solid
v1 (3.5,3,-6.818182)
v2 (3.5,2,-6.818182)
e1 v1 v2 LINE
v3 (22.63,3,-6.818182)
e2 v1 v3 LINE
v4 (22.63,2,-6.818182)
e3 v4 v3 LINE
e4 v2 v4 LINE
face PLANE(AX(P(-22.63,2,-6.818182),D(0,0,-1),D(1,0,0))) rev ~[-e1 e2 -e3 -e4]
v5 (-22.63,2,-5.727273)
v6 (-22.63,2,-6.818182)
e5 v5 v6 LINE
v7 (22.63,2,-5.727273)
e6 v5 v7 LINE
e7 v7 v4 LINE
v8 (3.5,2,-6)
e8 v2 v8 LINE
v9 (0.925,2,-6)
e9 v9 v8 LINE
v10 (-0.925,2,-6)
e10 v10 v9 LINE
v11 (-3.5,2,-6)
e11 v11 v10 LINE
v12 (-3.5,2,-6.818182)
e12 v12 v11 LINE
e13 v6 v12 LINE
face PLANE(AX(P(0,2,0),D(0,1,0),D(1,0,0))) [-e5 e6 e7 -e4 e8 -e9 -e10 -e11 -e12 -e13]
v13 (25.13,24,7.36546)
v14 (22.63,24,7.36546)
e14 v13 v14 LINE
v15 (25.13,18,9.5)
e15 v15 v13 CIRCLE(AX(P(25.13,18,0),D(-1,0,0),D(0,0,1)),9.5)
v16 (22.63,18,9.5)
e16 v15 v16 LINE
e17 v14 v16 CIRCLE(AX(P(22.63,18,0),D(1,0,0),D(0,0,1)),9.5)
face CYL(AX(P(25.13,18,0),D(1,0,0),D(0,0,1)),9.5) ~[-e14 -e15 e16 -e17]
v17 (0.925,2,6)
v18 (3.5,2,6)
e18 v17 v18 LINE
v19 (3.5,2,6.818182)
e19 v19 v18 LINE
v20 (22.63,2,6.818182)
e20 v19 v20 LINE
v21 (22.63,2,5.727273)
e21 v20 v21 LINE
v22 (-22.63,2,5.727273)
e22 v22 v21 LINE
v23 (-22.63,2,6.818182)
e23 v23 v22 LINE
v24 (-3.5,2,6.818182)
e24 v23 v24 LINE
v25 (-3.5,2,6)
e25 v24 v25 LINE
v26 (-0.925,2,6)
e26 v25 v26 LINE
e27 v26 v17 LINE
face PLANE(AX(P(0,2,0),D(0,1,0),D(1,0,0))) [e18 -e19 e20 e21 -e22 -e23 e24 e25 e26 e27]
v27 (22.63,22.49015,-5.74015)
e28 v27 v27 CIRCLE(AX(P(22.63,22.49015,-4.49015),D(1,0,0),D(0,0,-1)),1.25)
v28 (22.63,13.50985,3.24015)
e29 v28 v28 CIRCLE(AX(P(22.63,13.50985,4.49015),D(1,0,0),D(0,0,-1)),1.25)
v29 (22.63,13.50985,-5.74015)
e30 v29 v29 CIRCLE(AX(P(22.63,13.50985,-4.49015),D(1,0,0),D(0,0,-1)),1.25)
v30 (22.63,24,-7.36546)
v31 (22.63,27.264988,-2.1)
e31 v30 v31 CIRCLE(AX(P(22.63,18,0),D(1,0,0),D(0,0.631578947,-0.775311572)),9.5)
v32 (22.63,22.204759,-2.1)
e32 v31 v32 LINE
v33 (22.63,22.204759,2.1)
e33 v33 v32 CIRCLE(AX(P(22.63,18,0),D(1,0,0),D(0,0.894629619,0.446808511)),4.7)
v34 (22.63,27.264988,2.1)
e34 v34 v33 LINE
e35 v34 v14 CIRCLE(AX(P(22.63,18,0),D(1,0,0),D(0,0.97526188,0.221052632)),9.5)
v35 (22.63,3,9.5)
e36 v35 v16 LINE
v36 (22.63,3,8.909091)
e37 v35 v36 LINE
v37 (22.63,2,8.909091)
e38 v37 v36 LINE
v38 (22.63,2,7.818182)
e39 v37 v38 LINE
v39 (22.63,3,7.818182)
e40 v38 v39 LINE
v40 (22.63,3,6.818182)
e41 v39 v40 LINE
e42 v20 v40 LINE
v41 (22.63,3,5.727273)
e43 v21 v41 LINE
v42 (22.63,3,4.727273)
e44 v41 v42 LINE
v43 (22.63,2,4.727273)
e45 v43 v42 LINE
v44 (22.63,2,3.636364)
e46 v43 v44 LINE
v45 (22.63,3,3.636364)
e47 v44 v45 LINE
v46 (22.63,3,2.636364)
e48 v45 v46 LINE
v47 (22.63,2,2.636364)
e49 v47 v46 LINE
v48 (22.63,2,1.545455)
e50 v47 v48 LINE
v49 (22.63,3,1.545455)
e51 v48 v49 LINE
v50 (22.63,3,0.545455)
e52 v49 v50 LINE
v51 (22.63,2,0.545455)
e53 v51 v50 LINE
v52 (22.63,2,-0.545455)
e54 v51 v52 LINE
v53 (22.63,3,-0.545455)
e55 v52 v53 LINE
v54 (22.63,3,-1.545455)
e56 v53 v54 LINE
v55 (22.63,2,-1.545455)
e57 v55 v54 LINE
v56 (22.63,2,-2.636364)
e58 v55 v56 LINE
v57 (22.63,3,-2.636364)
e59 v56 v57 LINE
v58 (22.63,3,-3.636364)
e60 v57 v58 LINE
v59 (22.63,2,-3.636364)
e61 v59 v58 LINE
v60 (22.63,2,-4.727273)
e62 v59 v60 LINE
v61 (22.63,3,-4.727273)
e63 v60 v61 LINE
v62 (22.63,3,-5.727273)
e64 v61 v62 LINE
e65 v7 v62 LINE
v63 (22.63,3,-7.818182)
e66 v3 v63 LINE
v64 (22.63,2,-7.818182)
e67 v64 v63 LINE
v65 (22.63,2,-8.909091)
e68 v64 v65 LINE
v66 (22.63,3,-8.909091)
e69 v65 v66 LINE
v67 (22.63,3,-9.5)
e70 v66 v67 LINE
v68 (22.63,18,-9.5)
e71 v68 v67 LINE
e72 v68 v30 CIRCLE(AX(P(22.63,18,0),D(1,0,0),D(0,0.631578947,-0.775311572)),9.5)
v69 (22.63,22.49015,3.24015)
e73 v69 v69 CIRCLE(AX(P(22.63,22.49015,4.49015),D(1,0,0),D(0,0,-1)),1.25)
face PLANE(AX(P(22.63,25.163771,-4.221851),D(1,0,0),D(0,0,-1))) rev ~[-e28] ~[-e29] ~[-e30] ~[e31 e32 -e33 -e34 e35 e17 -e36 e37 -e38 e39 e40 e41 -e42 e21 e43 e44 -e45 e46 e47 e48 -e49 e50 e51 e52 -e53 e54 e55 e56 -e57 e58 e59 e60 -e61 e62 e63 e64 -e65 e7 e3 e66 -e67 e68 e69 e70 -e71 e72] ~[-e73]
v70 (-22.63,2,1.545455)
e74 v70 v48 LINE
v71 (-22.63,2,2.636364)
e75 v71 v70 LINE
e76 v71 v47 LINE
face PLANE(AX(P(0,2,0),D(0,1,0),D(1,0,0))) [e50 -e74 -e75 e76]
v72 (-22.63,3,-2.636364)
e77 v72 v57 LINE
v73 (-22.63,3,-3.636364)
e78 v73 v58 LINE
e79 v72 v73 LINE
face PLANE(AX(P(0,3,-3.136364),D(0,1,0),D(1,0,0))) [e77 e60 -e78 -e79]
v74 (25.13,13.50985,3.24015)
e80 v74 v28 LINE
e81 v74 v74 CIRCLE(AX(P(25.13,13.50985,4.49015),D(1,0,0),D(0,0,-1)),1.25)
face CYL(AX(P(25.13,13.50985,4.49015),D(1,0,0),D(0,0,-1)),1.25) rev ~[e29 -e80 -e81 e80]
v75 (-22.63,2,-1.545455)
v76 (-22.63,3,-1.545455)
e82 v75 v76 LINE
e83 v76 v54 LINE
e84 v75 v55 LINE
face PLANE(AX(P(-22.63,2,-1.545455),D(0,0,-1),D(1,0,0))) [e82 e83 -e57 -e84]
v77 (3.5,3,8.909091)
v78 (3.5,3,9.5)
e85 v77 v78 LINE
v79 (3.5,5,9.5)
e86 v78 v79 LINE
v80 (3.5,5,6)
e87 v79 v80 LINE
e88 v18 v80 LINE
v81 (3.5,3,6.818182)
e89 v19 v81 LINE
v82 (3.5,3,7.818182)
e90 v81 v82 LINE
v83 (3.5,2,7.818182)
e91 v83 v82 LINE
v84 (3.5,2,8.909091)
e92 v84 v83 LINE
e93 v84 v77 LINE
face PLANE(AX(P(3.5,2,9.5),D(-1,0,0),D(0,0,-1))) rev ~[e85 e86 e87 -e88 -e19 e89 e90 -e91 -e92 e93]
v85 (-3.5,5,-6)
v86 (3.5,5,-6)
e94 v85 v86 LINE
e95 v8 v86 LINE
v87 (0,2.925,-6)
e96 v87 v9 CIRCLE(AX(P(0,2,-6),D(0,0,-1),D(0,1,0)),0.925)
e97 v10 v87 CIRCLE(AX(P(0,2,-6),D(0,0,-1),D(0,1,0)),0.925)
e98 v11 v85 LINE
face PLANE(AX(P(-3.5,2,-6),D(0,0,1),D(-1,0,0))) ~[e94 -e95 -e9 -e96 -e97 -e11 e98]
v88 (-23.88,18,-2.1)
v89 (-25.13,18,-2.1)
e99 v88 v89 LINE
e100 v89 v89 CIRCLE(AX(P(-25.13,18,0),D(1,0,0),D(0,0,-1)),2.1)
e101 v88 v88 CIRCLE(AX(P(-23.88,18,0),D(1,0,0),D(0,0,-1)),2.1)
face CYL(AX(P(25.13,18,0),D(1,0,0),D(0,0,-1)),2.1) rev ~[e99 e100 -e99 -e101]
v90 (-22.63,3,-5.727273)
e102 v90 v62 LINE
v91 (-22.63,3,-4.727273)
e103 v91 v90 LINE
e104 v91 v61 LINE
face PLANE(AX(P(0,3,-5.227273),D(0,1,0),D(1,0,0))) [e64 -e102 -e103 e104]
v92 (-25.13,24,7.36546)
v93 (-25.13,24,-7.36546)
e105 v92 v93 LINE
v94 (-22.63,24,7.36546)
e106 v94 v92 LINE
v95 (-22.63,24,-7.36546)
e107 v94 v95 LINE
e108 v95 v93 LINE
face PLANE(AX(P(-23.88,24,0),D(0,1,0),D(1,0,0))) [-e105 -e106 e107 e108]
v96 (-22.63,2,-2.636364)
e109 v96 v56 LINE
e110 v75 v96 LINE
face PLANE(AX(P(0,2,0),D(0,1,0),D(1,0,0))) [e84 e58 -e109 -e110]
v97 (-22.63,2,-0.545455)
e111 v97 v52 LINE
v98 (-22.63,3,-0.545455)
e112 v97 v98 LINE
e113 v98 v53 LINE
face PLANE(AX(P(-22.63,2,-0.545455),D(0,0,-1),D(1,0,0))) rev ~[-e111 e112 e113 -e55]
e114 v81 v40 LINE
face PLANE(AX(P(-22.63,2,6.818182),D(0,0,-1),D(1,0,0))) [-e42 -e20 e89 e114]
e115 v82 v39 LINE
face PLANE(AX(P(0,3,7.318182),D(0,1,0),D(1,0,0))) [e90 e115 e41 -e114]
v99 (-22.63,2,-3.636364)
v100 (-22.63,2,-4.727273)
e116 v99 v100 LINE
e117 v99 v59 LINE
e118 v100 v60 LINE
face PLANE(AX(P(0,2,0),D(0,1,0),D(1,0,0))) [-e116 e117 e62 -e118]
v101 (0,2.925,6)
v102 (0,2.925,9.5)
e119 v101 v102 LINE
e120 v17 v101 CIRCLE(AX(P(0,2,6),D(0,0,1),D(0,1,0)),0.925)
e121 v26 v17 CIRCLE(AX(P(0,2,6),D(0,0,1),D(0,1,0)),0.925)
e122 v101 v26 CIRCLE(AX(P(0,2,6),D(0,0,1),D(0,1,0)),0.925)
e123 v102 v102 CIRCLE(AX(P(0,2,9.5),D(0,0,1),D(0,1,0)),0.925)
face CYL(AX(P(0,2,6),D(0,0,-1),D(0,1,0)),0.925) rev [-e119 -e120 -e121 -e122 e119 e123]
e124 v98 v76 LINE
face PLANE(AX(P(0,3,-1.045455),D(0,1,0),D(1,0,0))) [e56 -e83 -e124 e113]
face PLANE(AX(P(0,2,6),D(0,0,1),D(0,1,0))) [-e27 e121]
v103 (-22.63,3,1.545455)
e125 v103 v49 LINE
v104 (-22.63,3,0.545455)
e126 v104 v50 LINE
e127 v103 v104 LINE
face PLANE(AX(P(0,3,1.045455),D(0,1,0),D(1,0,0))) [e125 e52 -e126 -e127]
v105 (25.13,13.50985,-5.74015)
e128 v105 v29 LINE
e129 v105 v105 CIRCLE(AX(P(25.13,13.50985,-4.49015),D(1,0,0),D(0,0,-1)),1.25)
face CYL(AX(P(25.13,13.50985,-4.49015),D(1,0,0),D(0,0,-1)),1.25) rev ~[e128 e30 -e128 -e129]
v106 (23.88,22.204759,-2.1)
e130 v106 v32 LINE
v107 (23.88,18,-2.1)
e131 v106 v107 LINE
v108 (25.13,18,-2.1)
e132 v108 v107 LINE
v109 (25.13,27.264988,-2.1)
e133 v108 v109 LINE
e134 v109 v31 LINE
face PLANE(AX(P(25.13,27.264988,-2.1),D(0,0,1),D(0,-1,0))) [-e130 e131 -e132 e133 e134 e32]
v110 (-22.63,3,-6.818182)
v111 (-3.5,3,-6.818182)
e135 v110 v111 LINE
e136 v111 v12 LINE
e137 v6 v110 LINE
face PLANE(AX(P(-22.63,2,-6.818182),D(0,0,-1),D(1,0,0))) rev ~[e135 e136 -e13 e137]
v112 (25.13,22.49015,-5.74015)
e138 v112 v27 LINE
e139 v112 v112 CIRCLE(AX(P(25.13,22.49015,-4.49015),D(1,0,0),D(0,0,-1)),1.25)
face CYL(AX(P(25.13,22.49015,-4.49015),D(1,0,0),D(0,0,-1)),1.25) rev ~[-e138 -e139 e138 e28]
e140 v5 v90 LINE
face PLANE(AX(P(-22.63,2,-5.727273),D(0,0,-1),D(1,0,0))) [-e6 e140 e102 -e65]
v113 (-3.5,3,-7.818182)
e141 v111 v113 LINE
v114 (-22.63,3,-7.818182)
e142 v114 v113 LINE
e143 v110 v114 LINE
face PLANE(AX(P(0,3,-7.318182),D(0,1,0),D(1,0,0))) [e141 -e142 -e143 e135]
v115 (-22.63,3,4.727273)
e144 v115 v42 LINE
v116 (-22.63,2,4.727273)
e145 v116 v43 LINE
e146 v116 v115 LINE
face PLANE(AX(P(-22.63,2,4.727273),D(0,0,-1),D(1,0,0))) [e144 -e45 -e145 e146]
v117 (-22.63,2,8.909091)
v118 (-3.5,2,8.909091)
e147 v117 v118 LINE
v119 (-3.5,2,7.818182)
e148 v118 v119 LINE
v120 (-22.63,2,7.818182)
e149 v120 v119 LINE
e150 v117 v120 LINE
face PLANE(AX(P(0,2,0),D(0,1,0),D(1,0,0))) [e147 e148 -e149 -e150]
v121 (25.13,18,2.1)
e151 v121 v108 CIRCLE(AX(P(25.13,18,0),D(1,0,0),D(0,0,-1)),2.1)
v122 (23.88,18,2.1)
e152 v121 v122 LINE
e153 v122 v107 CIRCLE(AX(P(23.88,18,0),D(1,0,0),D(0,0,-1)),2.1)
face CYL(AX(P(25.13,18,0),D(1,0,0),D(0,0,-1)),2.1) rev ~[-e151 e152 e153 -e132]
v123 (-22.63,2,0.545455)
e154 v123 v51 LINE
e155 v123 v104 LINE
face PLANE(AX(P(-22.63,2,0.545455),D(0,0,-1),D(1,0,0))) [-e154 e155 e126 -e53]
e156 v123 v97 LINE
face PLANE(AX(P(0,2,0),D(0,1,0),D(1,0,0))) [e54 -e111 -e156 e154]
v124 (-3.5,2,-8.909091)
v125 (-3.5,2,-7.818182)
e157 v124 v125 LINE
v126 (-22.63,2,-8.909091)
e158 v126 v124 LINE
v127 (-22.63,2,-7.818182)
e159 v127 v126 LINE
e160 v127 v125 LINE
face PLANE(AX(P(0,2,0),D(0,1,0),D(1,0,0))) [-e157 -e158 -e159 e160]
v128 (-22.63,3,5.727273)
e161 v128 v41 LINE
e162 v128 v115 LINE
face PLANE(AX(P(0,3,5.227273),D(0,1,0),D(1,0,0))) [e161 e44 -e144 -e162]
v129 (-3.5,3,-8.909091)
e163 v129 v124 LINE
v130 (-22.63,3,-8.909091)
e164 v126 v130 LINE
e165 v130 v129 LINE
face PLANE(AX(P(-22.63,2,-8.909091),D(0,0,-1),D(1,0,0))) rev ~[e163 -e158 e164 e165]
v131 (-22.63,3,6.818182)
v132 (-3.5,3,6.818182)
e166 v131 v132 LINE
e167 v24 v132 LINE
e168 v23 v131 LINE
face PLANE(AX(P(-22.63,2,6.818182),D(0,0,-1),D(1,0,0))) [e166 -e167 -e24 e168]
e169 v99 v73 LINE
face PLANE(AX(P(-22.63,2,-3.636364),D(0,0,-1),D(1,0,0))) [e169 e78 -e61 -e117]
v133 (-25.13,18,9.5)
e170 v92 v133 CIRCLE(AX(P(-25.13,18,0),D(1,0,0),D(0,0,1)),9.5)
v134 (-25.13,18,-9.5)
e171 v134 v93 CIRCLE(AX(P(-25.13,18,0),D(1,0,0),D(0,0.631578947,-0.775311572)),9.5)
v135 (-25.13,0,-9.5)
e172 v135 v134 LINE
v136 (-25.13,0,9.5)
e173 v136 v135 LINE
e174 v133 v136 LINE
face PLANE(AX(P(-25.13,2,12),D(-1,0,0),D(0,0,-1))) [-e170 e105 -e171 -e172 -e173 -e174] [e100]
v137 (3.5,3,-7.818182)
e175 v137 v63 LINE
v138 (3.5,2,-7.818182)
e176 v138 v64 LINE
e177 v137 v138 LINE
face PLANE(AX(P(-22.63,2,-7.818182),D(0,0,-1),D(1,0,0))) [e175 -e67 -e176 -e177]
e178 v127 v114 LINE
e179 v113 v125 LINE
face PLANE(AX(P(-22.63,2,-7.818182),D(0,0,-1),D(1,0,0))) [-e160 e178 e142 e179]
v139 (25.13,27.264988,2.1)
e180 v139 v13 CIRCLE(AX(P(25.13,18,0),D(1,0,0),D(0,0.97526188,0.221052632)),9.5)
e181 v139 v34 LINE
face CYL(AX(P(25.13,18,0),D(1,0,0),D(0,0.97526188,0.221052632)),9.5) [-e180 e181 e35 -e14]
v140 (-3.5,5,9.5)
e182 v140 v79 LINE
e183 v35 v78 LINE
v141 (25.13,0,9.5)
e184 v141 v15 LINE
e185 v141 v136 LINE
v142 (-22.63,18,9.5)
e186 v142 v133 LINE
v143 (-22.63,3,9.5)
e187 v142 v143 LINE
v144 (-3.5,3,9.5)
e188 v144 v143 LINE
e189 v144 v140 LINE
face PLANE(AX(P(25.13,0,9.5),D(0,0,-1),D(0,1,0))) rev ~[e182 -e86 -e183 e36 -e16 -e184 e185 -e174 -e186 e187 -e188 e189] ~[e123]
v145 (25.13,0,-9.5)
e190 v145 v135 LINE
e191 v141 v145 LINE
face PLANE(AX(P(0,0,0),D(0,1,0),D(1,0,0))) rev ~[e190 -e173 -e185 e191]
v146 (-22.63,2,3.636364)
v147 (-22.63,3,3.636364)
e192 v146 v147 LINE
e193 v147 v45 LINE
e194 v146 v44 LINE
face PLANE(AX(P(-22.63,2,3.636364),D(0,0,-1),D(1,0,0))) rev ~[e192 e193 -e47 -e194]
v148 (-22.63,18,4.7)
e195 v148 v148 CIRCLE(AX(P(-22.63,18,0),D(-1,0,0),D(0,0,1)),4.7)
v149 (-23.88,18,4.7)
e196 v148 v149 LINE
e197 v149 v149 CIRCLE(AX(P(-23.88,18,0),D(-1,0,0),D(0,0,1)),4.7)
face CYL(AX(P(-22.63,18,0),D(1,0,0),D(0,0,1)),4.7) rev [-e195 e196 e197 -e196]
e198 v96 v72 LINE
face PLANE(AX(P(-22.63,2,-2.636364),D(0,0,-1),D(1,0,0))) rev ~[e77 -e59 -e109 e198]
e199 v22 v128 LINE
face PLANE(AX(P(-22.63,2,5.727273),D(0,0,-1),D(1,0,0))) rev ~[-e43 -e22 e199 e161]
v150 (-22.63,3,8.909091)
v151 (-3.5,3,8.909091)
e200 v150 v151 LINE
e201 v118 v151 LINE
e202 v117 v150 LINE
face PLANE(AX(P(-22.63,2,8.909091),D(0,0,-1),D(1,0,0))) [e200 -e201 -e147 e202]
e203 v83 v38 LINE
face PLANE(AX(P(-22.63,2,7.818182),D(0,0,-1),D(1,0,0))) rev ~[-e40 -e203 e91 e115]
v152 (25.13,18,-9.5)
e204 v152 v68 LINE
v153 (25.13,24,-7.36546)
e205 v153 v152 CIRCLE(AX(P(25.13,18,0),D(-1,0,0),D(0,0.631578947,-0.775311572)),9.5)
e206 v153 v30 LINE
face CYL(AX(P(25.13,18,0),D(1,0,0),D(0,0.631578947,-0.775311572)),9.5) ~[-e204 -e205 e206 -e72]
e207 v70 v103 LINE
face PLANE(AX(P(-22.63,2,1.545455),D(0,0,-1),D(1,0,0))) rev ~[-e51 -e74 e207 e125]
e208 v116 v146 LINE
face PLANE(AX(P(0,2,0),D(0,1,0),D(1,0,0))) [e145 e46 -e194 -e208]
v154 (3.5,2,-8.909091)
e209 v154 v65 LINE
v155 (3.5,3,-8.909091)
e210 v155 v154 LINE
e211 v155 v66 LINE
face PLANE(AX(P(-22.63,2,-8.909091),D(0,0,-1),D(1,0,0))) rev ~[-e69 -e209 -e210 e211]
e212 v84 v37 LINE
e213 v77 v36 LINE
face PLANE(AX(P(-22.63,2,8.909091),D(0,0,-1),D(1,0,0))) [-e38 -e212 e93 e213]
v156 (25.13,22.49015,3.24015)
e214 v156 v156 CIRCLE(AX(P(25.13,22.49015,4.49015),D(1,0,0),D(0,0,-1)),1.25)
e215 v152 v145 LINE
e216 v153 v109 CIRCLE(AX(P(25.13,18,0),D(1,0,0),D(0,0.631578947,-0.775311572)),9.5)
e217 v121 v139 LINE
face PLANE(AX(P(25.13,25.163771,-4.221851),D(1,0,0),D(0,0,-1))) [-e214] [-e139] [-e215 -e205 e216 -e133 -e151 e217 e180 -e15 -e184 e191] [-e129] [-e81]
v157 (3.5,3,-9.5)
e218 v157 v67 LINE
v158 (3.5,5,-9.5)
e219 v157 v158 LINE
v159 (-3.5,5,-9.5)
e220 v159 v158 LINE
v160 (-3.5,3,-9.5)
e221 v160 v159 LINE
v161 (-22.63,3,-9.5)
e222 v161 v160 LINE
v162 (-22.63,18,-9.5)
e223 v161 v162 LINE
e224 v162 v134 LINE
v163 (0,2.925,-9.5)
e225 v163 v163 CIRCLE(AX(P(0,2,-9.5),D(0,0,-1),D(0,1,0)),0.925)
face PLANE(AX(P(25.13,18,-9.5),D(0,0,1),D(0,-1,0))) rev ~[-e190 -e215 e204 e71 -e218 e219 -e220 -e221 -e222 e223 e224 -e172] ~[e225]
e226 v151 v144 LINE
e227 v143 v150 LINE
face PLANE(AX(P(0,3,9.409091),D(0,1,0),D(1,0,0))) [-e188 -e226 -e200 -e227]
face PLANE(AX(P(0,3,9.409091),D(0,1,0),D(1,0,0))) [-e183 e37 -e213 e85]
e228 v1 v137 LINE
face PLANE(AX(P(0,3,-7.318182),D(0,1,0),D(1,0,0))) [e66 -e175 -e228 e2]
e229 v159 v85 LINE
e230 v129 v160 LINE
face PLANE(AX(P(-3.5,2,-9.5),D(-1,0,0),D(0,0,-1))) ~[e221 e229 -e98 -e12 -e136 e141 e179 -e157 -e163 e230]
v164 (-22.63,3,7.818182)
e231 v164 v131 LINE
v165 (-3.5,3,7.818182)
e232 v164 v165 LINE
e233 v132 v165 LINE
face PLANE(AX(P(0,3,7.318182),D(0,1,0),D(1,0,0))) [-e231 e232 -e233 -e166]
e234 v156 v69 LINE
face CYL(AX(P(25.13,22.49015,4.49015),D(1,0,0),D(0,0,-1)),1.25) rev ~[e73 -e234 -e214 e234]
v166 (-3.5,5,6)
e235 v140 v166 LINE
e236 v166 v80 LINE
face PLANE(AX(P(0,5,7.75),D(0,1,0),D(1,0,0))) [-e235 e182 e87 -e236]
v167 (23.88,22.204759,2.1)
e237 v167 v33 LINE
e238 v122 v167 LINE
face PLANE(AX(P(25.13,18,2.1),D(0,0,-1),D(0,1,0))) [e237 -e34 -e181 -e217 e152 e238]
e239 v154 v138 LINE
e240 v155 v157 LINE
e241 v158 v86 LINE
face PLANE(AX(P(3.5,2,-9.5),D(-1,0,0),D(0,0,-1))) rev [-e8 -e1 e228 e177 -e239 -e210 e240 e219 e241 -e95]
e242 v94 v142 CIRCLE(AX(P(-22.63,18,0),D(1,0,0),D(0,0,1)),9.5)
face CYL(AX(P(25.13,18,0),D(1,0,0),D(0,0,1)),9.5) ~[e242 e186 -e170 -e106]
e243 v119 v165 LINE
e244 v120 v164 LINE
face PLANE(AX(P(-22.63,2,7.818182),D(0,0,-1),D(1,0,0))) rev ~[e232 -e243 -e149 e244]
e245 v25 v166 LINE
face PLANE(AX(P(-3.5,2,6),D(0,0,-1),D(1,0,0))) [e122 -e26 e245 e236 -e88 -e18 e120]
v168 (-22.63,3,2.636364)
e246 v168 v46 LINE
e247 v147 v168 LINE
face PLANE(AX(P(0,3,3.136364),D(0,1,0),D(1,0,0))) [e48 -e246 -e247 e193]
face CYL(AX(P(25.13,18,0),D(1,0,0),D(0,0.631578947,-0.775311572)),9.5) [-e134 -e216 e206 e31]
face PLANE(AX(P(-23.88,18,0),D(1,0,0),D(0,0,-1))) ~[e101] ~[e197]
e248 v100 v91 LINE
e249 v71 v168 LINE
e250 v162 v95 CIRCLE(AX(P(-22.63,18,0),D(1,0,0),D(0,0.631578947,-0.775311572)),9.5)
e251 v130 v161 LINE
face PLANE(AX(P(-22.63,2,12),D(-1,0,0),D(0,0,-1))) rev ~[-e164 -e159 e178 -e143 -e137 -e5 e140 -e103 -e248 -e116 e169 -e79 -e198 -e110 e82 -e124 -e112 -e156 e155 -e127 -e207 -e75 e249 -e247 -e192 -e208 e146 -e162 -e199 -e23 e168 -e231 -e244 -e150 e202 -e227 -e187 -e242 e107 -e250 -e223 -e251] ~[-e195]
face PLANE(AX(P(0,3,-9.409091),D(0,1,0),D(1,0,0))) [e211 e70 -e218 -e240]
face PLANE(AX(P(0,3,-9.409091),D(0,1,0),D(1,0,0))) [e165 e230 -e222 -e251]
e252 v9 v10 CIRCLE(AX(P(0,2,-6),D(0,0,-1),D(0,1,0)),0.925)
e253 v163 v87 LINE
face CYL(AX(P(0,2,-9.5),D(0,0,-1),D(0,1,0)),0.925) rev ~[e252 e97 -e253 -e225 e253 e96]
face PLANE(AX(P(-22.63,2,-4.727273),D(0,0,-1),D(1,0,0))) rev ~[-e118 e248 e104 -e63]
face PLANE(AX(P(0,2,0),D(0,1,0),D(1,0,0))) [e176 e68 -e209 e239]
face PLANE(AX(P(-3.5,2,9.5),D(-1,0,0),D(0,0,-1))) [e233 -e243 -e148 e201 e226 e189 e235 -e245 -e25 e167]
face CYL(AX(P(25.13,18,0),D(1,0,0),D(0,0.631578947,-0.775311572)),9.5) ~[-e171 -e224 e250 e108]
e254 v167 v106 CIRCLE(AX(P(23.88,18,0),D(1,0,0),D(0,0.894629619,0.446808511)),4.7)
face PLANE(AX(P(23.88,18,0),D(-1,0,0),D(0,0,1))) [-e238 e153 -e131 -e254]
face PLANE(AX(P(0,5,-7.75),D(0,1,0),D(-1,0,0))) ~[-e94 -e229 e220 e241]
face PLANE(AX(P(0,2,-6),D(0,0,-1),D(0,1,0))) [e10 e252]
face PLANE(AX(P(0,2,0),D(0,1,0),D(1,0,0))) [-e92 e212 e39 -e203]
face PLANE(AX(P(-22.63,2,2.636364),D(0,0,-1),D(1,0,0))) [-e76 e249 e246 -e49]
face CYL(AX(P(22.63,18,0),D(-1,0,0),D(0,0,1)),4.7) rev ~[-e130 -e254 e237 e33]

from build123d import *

# Parameters (mm, degrees)
SKETCH1_W           = 50.26
SKETCH1_H           = 24
BOSS_EXTRUDE1_DEPTH = 2
SKETCH2_W           = 2.5
SKETCH2_H           = 24
BOSS_EXTRUDE2_DEPTH = 22
SKETCH3_R           = 2.1
CUT_EXTRUDE1_DEPTH  = 57.974271386
SKETCH4_R           = 4.7
CUT_EXTRUDE2_DEPTH  = 1.25
CUT_EXTRUDE3_REACH  = 58.974
SKETCH5_R           = 1.25
CUT_EXTRUDE4_REACH  = 58.974
SKETCH7_W           = 45.26
SKETCH7_H           = 1
BOSS_EXTRUDE3_DEPTH = 1
LPATTERN3_COUNT     = 12
LPATTERN3_PITCH     = 2.090909091
BOSS_EXTRUDE4_DEPTH = 2.5
CUT_EXTRUDE6_DEPTH  = 59.424713631
BOSS_EXTRUDE5_START = -1
SKETCH12_W          = 7
SKETCH12_H          = 3.5
BOSS_EXTRUDE5_DEPTH = 3
SKETCH13_R          = 0.925
CUT_EXTRUDE7_DEPTH  = 3.5
CUT_EXTRUDE9_START  = -3.5
SKETCH14_R          = 0.925
CUT_EXTRUDE9_DEPTH  = 3.5


with BuildPart() as part:
    # Sketch1 → Boss-Extrude1 (new body)
    with BuildSketch(Plane(origin=(0, 0, 0), x_dir=(1, 0, 0), z_dir=(0, 1, 0))):
        Rectangle(SKETCH1_W, SKETCH1_H)
    extrude(amount=BOSS_EXTRUDE1_DEPTH)

    # Sketch2 → Boss-Extrude2 (add)
    with BuildSketch(Plane(origin=(0, 2, 0), x_dir=(1, 0, 0), z_dir=(0, 1, 0))):
        with Locations((-23.88, 0)):
            Rectangle(SKETCH2_W, SKETCH2_H)
        with Locations((23.88, 0)):
            Rectangle(SKETCH2_W, SKETCH2_H)
    extrude(amount=BOSS_EXTRUDE2_DEPTH)

    # Sketch3 → Cut-Extrude1 (cut, through all)
    with BuildSketch(Plane(origin=(25.13, 0, 0), x_dir=(0, 0, -1), z_dir=(1, 0, 0))):
        with Locations((0, 18)):
            Circle(SKETCH3_R)
    extrude(amount=-CUT_EXTRUDE1_DEPTH, mode=Mode.SUBTRACT)

    # Sketch4 → Cut-Extrude2 (cut)
    with BuildSketch(Plane.ZY.offset(-22.63)):
        with Locations((0, 18)):
            Circle(SKETCH4_R)
    cut_extrude2 = extrude(amount=-CUT_EXTRUDE2_DEPTH, mode=Mode.SUBTRACT)

    # Mirror1: Cut-Extrude2 across plane
    add(cut_extrude2.mirror(Plane.ZY), mode=Mode.SUBTRACT)

    # Sketch5 → Cut-Extrude3 (cut, up to next)
    with BuildSketch(Plane(origin=(25.13, 0, 0), x_dir=(0, 0, -1), z_dir=(1, 0, 0)), mode=Mode.PRIVATE) as cut_extrude3_sk1:
        with Locations((4.49015, 13.50985)):
            Circle(SKETCH5_R)
    cut_extrude3_tool1 = extrude(cut_extrude3_sk1.sketch, amount=-CUT_EXTRUDE3_REACH, mode=Mode.PRIVATE) & part.part
    # Sketch5 → Cut-Extrude3 (cut, up to next)
    with BuildSketch(Plane(origin=(25.13, 0, 0), x_dir=(0, 0, -1), z_dir=(1, 0, 0)), mode=Mode.PRIVATE) as cut_extrude3_sk2:
        with Locations((-4.49015, 13.50985)):
            Circle(SKETCH5_R)
    cut_extrude3_tool2 = extrude(cut_extrude3_sk2.sketch, amount=-CUT_EXTRUDE3_REACH, mode=Mode.PRIVATE) & part.part
    # Sketch5 → Cut-Extrude3 (cut, up to next)
    with BuildSketch(Plane(origin=(25.13, 0, 0), x_dir=(0, 0, -1), z_dir=(1, 0, 0)), mode=Mode.PRIVATE) as cut_extrude3_sk3:
        with Locations((-4.49015, 22.49015)):
            Circle(SKETCH5_R)
    cut_extrude3_tool3 = extrude(cut_extrude3_sk3.sketch, amount=-CUT_EXTRUDE3_REACH, mode=Mode.PRIVATE) & part.part
    # Sketch5 → Cut-Extrude3 (cut, up to next)
    with BuildSketch(Plane(origin=(25.13, 0, 0), x_dir=(0, 0, -1), z_dir=(1, 0, 0)), mode=Mode.PRIVATE) as cut_extrude3_sk4:
        with Locations((4.49015, 22.49015)):
            Circle(SKETCH5_R)
    cut_extrude3_tool4 = extrude(cut_extrude3_sk4.sketch, amount=-CUT_EXTRUDE3_REACH, mode=Mode.PRIVATE) & part.part
    add(cut_extrude3_tool1.solids().sort_by_distance((25.13, 13.50985, -4.49015))[0], mode=Mode.SUBTRACT)
    add(cut_extrude3_tool2.solids().sort_by_distance((25.13, 13.50985, 4.49015))[0], mode=Mode.SUBTRACT)
    add(cut_extrude3_tool3.solids().sort_by_distance((25.13, 22.49015, 4.49015))[0], mode=Mode.SUBTRACT)
    add(cut_extrude3_tool4.solids().sort_by_distance((25.13, 22.49015, -4.49015))[0], mode=Mode.SUBTRACT)

    # Sketch6 → Cut-Extrude4 (cut, up to next)
    with BuildSketch(Plane(origin=(25.13, 0, 0), x_dir=(0, 0, -1), z_dir=(1, 0, 0)), mode=Mode.PRIVATE) as cut_extrude4_sk1:
        with BuildLine():
            Line((-2.1, 18), (-2.1, 24))
            Line((-2.1, 24), (2.1, 24))
            Line((2.1, 24), (2.1, 18))
            ThreePointArc((2.1, 18), (0, 15.9), (-2.1, 18))
        make_face()
    cut_extrude4_tool1 = extrude(cut_extrude4_sk1.sketch, amount=-CUT_EXTRUDE4_REACH, mode=Mode.PRIVATE) & part.part
    add(cut_extrude4_tool1.solids().sort_by_distance((25.13, 20.160972, 0))[0], mode=Mode.SUBTRACT)

    # Sketch7 → Boss-Extrude3 (add)
    with BuildSketch(Plane(origin=(0, 2, 0), x_dir=(1, 0, 0), z_dir=(0, 1, 0))):
        with Locations((0, -11.5)):
            Rectangle(SKETCH7_W, SKETCH7_H)
    boss_extrude3 = extrude(amount=BOSS_EXTRUDE3_DEPTH)

    # LPattern3: Boss-Extrude3 ×12
    with Locations(*[(0, 0, -i * LPATTERN3_PITCH) for i in range(1, LPATTERN3_COUNT)]):
        add(boss_extrude3)

    # Sketch9 → Boss-Extrude4 (add)
    with BuildSketch(Plane(origin=(25.13, 0, 0), x_dir=(0, 0, -1), z_dir=(1, 0, 0))):
        with BuildLine():
            Line((2.1, 24), (7.365459931, 24))
            ThreePointArc((7.365459931, 24), (5.006372874, 26.073799022), (2.1, 27.264987858))
            Line((2.1, 27.264987858), (2.1, 24))
        make_face()
        with BuildLine():
            Line((-7.365459931, 24), (-2.1, 24))
            Line((-2.1, 24), (-2.1, 27.264987858))
            ThreePointArc((-2.1, 27.264987858), (-5.006372874, 26.073799022), (-7.365459931, 24))
        make_face()
    extrude(amount=-BOSS_EXTRUDE4_DEPTH)

    # Sketch10 → Cut-Extrude6 (cut, through all)
    with BuildSketch(Plane(origin=(25.13, 0, 0), x_dir=(0, 0, -1), z_dir=(1, 0, 0))):
        with BuildLine():
            Line((-9.5, 0), (-9.5, 18))
            ThreePointArc((-9.5, 18), (-8.950471198, 21.184189901), (-7.365459931, 24))
            Line((-7.365459931, 24), (-9.5, 24))
            Line((-9.5, 24), (-12, 24))
            Line((-12, 24), (-12, 0))
            Line((-12, 0), (-9.5, 0))
        make_face()
        with BuildLine():
            Line((9.5, 24), (7.365459931, 24))
            ThreePointArc((7.365459931, 24), (8.950471198, 21.184189901), (9.5, 18))
            Line((9.5, 18), (9.5, 0))
            Line((9.5, 0), (12, 0))
            Line((12, 0), (12, 24))
            Line((12, 24), (9.5, 24))
        make_face()
    extrude(amount=-CUT_EXTRUDE6_DEPTH, mode=Mode.SUBTRACT)

    # Sketch12 → Boss-Extrude5 (add)
    with BuildSketch(Plane(origin=(0, 3, 0), x_dir=(1, 0, 0), z_dir=(0, 1, 0)).offset(BOSS_EXTRUDE5_START)):
        with Locations((0, -7.75)):
            Rectangle(SKETCH12_W, SKETCH12_H)
    boss_extrude5 = extrude(amount=BOSS_EXTRUDE5_DEPTH)

    # Mirror2: Boss-Extrude5 across plane
    add(boss_extrude5.mirror(Plane.XY))

    # Sketch13 → Cut-Extrude7 (cut)
    with BuildSketch(Plane(origin=(0, 0, -9.5), x_dir=(-1, 0, 0), z_dir=(0, 0, -1))):
        with Locations(Location((0, 2, 0), (0, 0, 90))):
            Circle(SKETCH13_R)
    extrude(amount=-CUT_EXTRUDE7_DEPTH, mode=Mode.SUBTRACT)

    # Sketch14 → Cut-Extrude9 (cut)
    with BuildSketch(Plane.XY.offset(9.5).offset(CUT_EXTRUDE9_START)):
        with Locations(Location((0, 2, 0), (0, 0, 90))):
            Circle(SKETCH14_R)
    extrude(amount=CUT_EXTRUDE9_DEPTH, mode=Mode.SUBTRACT)


solid = part.part
